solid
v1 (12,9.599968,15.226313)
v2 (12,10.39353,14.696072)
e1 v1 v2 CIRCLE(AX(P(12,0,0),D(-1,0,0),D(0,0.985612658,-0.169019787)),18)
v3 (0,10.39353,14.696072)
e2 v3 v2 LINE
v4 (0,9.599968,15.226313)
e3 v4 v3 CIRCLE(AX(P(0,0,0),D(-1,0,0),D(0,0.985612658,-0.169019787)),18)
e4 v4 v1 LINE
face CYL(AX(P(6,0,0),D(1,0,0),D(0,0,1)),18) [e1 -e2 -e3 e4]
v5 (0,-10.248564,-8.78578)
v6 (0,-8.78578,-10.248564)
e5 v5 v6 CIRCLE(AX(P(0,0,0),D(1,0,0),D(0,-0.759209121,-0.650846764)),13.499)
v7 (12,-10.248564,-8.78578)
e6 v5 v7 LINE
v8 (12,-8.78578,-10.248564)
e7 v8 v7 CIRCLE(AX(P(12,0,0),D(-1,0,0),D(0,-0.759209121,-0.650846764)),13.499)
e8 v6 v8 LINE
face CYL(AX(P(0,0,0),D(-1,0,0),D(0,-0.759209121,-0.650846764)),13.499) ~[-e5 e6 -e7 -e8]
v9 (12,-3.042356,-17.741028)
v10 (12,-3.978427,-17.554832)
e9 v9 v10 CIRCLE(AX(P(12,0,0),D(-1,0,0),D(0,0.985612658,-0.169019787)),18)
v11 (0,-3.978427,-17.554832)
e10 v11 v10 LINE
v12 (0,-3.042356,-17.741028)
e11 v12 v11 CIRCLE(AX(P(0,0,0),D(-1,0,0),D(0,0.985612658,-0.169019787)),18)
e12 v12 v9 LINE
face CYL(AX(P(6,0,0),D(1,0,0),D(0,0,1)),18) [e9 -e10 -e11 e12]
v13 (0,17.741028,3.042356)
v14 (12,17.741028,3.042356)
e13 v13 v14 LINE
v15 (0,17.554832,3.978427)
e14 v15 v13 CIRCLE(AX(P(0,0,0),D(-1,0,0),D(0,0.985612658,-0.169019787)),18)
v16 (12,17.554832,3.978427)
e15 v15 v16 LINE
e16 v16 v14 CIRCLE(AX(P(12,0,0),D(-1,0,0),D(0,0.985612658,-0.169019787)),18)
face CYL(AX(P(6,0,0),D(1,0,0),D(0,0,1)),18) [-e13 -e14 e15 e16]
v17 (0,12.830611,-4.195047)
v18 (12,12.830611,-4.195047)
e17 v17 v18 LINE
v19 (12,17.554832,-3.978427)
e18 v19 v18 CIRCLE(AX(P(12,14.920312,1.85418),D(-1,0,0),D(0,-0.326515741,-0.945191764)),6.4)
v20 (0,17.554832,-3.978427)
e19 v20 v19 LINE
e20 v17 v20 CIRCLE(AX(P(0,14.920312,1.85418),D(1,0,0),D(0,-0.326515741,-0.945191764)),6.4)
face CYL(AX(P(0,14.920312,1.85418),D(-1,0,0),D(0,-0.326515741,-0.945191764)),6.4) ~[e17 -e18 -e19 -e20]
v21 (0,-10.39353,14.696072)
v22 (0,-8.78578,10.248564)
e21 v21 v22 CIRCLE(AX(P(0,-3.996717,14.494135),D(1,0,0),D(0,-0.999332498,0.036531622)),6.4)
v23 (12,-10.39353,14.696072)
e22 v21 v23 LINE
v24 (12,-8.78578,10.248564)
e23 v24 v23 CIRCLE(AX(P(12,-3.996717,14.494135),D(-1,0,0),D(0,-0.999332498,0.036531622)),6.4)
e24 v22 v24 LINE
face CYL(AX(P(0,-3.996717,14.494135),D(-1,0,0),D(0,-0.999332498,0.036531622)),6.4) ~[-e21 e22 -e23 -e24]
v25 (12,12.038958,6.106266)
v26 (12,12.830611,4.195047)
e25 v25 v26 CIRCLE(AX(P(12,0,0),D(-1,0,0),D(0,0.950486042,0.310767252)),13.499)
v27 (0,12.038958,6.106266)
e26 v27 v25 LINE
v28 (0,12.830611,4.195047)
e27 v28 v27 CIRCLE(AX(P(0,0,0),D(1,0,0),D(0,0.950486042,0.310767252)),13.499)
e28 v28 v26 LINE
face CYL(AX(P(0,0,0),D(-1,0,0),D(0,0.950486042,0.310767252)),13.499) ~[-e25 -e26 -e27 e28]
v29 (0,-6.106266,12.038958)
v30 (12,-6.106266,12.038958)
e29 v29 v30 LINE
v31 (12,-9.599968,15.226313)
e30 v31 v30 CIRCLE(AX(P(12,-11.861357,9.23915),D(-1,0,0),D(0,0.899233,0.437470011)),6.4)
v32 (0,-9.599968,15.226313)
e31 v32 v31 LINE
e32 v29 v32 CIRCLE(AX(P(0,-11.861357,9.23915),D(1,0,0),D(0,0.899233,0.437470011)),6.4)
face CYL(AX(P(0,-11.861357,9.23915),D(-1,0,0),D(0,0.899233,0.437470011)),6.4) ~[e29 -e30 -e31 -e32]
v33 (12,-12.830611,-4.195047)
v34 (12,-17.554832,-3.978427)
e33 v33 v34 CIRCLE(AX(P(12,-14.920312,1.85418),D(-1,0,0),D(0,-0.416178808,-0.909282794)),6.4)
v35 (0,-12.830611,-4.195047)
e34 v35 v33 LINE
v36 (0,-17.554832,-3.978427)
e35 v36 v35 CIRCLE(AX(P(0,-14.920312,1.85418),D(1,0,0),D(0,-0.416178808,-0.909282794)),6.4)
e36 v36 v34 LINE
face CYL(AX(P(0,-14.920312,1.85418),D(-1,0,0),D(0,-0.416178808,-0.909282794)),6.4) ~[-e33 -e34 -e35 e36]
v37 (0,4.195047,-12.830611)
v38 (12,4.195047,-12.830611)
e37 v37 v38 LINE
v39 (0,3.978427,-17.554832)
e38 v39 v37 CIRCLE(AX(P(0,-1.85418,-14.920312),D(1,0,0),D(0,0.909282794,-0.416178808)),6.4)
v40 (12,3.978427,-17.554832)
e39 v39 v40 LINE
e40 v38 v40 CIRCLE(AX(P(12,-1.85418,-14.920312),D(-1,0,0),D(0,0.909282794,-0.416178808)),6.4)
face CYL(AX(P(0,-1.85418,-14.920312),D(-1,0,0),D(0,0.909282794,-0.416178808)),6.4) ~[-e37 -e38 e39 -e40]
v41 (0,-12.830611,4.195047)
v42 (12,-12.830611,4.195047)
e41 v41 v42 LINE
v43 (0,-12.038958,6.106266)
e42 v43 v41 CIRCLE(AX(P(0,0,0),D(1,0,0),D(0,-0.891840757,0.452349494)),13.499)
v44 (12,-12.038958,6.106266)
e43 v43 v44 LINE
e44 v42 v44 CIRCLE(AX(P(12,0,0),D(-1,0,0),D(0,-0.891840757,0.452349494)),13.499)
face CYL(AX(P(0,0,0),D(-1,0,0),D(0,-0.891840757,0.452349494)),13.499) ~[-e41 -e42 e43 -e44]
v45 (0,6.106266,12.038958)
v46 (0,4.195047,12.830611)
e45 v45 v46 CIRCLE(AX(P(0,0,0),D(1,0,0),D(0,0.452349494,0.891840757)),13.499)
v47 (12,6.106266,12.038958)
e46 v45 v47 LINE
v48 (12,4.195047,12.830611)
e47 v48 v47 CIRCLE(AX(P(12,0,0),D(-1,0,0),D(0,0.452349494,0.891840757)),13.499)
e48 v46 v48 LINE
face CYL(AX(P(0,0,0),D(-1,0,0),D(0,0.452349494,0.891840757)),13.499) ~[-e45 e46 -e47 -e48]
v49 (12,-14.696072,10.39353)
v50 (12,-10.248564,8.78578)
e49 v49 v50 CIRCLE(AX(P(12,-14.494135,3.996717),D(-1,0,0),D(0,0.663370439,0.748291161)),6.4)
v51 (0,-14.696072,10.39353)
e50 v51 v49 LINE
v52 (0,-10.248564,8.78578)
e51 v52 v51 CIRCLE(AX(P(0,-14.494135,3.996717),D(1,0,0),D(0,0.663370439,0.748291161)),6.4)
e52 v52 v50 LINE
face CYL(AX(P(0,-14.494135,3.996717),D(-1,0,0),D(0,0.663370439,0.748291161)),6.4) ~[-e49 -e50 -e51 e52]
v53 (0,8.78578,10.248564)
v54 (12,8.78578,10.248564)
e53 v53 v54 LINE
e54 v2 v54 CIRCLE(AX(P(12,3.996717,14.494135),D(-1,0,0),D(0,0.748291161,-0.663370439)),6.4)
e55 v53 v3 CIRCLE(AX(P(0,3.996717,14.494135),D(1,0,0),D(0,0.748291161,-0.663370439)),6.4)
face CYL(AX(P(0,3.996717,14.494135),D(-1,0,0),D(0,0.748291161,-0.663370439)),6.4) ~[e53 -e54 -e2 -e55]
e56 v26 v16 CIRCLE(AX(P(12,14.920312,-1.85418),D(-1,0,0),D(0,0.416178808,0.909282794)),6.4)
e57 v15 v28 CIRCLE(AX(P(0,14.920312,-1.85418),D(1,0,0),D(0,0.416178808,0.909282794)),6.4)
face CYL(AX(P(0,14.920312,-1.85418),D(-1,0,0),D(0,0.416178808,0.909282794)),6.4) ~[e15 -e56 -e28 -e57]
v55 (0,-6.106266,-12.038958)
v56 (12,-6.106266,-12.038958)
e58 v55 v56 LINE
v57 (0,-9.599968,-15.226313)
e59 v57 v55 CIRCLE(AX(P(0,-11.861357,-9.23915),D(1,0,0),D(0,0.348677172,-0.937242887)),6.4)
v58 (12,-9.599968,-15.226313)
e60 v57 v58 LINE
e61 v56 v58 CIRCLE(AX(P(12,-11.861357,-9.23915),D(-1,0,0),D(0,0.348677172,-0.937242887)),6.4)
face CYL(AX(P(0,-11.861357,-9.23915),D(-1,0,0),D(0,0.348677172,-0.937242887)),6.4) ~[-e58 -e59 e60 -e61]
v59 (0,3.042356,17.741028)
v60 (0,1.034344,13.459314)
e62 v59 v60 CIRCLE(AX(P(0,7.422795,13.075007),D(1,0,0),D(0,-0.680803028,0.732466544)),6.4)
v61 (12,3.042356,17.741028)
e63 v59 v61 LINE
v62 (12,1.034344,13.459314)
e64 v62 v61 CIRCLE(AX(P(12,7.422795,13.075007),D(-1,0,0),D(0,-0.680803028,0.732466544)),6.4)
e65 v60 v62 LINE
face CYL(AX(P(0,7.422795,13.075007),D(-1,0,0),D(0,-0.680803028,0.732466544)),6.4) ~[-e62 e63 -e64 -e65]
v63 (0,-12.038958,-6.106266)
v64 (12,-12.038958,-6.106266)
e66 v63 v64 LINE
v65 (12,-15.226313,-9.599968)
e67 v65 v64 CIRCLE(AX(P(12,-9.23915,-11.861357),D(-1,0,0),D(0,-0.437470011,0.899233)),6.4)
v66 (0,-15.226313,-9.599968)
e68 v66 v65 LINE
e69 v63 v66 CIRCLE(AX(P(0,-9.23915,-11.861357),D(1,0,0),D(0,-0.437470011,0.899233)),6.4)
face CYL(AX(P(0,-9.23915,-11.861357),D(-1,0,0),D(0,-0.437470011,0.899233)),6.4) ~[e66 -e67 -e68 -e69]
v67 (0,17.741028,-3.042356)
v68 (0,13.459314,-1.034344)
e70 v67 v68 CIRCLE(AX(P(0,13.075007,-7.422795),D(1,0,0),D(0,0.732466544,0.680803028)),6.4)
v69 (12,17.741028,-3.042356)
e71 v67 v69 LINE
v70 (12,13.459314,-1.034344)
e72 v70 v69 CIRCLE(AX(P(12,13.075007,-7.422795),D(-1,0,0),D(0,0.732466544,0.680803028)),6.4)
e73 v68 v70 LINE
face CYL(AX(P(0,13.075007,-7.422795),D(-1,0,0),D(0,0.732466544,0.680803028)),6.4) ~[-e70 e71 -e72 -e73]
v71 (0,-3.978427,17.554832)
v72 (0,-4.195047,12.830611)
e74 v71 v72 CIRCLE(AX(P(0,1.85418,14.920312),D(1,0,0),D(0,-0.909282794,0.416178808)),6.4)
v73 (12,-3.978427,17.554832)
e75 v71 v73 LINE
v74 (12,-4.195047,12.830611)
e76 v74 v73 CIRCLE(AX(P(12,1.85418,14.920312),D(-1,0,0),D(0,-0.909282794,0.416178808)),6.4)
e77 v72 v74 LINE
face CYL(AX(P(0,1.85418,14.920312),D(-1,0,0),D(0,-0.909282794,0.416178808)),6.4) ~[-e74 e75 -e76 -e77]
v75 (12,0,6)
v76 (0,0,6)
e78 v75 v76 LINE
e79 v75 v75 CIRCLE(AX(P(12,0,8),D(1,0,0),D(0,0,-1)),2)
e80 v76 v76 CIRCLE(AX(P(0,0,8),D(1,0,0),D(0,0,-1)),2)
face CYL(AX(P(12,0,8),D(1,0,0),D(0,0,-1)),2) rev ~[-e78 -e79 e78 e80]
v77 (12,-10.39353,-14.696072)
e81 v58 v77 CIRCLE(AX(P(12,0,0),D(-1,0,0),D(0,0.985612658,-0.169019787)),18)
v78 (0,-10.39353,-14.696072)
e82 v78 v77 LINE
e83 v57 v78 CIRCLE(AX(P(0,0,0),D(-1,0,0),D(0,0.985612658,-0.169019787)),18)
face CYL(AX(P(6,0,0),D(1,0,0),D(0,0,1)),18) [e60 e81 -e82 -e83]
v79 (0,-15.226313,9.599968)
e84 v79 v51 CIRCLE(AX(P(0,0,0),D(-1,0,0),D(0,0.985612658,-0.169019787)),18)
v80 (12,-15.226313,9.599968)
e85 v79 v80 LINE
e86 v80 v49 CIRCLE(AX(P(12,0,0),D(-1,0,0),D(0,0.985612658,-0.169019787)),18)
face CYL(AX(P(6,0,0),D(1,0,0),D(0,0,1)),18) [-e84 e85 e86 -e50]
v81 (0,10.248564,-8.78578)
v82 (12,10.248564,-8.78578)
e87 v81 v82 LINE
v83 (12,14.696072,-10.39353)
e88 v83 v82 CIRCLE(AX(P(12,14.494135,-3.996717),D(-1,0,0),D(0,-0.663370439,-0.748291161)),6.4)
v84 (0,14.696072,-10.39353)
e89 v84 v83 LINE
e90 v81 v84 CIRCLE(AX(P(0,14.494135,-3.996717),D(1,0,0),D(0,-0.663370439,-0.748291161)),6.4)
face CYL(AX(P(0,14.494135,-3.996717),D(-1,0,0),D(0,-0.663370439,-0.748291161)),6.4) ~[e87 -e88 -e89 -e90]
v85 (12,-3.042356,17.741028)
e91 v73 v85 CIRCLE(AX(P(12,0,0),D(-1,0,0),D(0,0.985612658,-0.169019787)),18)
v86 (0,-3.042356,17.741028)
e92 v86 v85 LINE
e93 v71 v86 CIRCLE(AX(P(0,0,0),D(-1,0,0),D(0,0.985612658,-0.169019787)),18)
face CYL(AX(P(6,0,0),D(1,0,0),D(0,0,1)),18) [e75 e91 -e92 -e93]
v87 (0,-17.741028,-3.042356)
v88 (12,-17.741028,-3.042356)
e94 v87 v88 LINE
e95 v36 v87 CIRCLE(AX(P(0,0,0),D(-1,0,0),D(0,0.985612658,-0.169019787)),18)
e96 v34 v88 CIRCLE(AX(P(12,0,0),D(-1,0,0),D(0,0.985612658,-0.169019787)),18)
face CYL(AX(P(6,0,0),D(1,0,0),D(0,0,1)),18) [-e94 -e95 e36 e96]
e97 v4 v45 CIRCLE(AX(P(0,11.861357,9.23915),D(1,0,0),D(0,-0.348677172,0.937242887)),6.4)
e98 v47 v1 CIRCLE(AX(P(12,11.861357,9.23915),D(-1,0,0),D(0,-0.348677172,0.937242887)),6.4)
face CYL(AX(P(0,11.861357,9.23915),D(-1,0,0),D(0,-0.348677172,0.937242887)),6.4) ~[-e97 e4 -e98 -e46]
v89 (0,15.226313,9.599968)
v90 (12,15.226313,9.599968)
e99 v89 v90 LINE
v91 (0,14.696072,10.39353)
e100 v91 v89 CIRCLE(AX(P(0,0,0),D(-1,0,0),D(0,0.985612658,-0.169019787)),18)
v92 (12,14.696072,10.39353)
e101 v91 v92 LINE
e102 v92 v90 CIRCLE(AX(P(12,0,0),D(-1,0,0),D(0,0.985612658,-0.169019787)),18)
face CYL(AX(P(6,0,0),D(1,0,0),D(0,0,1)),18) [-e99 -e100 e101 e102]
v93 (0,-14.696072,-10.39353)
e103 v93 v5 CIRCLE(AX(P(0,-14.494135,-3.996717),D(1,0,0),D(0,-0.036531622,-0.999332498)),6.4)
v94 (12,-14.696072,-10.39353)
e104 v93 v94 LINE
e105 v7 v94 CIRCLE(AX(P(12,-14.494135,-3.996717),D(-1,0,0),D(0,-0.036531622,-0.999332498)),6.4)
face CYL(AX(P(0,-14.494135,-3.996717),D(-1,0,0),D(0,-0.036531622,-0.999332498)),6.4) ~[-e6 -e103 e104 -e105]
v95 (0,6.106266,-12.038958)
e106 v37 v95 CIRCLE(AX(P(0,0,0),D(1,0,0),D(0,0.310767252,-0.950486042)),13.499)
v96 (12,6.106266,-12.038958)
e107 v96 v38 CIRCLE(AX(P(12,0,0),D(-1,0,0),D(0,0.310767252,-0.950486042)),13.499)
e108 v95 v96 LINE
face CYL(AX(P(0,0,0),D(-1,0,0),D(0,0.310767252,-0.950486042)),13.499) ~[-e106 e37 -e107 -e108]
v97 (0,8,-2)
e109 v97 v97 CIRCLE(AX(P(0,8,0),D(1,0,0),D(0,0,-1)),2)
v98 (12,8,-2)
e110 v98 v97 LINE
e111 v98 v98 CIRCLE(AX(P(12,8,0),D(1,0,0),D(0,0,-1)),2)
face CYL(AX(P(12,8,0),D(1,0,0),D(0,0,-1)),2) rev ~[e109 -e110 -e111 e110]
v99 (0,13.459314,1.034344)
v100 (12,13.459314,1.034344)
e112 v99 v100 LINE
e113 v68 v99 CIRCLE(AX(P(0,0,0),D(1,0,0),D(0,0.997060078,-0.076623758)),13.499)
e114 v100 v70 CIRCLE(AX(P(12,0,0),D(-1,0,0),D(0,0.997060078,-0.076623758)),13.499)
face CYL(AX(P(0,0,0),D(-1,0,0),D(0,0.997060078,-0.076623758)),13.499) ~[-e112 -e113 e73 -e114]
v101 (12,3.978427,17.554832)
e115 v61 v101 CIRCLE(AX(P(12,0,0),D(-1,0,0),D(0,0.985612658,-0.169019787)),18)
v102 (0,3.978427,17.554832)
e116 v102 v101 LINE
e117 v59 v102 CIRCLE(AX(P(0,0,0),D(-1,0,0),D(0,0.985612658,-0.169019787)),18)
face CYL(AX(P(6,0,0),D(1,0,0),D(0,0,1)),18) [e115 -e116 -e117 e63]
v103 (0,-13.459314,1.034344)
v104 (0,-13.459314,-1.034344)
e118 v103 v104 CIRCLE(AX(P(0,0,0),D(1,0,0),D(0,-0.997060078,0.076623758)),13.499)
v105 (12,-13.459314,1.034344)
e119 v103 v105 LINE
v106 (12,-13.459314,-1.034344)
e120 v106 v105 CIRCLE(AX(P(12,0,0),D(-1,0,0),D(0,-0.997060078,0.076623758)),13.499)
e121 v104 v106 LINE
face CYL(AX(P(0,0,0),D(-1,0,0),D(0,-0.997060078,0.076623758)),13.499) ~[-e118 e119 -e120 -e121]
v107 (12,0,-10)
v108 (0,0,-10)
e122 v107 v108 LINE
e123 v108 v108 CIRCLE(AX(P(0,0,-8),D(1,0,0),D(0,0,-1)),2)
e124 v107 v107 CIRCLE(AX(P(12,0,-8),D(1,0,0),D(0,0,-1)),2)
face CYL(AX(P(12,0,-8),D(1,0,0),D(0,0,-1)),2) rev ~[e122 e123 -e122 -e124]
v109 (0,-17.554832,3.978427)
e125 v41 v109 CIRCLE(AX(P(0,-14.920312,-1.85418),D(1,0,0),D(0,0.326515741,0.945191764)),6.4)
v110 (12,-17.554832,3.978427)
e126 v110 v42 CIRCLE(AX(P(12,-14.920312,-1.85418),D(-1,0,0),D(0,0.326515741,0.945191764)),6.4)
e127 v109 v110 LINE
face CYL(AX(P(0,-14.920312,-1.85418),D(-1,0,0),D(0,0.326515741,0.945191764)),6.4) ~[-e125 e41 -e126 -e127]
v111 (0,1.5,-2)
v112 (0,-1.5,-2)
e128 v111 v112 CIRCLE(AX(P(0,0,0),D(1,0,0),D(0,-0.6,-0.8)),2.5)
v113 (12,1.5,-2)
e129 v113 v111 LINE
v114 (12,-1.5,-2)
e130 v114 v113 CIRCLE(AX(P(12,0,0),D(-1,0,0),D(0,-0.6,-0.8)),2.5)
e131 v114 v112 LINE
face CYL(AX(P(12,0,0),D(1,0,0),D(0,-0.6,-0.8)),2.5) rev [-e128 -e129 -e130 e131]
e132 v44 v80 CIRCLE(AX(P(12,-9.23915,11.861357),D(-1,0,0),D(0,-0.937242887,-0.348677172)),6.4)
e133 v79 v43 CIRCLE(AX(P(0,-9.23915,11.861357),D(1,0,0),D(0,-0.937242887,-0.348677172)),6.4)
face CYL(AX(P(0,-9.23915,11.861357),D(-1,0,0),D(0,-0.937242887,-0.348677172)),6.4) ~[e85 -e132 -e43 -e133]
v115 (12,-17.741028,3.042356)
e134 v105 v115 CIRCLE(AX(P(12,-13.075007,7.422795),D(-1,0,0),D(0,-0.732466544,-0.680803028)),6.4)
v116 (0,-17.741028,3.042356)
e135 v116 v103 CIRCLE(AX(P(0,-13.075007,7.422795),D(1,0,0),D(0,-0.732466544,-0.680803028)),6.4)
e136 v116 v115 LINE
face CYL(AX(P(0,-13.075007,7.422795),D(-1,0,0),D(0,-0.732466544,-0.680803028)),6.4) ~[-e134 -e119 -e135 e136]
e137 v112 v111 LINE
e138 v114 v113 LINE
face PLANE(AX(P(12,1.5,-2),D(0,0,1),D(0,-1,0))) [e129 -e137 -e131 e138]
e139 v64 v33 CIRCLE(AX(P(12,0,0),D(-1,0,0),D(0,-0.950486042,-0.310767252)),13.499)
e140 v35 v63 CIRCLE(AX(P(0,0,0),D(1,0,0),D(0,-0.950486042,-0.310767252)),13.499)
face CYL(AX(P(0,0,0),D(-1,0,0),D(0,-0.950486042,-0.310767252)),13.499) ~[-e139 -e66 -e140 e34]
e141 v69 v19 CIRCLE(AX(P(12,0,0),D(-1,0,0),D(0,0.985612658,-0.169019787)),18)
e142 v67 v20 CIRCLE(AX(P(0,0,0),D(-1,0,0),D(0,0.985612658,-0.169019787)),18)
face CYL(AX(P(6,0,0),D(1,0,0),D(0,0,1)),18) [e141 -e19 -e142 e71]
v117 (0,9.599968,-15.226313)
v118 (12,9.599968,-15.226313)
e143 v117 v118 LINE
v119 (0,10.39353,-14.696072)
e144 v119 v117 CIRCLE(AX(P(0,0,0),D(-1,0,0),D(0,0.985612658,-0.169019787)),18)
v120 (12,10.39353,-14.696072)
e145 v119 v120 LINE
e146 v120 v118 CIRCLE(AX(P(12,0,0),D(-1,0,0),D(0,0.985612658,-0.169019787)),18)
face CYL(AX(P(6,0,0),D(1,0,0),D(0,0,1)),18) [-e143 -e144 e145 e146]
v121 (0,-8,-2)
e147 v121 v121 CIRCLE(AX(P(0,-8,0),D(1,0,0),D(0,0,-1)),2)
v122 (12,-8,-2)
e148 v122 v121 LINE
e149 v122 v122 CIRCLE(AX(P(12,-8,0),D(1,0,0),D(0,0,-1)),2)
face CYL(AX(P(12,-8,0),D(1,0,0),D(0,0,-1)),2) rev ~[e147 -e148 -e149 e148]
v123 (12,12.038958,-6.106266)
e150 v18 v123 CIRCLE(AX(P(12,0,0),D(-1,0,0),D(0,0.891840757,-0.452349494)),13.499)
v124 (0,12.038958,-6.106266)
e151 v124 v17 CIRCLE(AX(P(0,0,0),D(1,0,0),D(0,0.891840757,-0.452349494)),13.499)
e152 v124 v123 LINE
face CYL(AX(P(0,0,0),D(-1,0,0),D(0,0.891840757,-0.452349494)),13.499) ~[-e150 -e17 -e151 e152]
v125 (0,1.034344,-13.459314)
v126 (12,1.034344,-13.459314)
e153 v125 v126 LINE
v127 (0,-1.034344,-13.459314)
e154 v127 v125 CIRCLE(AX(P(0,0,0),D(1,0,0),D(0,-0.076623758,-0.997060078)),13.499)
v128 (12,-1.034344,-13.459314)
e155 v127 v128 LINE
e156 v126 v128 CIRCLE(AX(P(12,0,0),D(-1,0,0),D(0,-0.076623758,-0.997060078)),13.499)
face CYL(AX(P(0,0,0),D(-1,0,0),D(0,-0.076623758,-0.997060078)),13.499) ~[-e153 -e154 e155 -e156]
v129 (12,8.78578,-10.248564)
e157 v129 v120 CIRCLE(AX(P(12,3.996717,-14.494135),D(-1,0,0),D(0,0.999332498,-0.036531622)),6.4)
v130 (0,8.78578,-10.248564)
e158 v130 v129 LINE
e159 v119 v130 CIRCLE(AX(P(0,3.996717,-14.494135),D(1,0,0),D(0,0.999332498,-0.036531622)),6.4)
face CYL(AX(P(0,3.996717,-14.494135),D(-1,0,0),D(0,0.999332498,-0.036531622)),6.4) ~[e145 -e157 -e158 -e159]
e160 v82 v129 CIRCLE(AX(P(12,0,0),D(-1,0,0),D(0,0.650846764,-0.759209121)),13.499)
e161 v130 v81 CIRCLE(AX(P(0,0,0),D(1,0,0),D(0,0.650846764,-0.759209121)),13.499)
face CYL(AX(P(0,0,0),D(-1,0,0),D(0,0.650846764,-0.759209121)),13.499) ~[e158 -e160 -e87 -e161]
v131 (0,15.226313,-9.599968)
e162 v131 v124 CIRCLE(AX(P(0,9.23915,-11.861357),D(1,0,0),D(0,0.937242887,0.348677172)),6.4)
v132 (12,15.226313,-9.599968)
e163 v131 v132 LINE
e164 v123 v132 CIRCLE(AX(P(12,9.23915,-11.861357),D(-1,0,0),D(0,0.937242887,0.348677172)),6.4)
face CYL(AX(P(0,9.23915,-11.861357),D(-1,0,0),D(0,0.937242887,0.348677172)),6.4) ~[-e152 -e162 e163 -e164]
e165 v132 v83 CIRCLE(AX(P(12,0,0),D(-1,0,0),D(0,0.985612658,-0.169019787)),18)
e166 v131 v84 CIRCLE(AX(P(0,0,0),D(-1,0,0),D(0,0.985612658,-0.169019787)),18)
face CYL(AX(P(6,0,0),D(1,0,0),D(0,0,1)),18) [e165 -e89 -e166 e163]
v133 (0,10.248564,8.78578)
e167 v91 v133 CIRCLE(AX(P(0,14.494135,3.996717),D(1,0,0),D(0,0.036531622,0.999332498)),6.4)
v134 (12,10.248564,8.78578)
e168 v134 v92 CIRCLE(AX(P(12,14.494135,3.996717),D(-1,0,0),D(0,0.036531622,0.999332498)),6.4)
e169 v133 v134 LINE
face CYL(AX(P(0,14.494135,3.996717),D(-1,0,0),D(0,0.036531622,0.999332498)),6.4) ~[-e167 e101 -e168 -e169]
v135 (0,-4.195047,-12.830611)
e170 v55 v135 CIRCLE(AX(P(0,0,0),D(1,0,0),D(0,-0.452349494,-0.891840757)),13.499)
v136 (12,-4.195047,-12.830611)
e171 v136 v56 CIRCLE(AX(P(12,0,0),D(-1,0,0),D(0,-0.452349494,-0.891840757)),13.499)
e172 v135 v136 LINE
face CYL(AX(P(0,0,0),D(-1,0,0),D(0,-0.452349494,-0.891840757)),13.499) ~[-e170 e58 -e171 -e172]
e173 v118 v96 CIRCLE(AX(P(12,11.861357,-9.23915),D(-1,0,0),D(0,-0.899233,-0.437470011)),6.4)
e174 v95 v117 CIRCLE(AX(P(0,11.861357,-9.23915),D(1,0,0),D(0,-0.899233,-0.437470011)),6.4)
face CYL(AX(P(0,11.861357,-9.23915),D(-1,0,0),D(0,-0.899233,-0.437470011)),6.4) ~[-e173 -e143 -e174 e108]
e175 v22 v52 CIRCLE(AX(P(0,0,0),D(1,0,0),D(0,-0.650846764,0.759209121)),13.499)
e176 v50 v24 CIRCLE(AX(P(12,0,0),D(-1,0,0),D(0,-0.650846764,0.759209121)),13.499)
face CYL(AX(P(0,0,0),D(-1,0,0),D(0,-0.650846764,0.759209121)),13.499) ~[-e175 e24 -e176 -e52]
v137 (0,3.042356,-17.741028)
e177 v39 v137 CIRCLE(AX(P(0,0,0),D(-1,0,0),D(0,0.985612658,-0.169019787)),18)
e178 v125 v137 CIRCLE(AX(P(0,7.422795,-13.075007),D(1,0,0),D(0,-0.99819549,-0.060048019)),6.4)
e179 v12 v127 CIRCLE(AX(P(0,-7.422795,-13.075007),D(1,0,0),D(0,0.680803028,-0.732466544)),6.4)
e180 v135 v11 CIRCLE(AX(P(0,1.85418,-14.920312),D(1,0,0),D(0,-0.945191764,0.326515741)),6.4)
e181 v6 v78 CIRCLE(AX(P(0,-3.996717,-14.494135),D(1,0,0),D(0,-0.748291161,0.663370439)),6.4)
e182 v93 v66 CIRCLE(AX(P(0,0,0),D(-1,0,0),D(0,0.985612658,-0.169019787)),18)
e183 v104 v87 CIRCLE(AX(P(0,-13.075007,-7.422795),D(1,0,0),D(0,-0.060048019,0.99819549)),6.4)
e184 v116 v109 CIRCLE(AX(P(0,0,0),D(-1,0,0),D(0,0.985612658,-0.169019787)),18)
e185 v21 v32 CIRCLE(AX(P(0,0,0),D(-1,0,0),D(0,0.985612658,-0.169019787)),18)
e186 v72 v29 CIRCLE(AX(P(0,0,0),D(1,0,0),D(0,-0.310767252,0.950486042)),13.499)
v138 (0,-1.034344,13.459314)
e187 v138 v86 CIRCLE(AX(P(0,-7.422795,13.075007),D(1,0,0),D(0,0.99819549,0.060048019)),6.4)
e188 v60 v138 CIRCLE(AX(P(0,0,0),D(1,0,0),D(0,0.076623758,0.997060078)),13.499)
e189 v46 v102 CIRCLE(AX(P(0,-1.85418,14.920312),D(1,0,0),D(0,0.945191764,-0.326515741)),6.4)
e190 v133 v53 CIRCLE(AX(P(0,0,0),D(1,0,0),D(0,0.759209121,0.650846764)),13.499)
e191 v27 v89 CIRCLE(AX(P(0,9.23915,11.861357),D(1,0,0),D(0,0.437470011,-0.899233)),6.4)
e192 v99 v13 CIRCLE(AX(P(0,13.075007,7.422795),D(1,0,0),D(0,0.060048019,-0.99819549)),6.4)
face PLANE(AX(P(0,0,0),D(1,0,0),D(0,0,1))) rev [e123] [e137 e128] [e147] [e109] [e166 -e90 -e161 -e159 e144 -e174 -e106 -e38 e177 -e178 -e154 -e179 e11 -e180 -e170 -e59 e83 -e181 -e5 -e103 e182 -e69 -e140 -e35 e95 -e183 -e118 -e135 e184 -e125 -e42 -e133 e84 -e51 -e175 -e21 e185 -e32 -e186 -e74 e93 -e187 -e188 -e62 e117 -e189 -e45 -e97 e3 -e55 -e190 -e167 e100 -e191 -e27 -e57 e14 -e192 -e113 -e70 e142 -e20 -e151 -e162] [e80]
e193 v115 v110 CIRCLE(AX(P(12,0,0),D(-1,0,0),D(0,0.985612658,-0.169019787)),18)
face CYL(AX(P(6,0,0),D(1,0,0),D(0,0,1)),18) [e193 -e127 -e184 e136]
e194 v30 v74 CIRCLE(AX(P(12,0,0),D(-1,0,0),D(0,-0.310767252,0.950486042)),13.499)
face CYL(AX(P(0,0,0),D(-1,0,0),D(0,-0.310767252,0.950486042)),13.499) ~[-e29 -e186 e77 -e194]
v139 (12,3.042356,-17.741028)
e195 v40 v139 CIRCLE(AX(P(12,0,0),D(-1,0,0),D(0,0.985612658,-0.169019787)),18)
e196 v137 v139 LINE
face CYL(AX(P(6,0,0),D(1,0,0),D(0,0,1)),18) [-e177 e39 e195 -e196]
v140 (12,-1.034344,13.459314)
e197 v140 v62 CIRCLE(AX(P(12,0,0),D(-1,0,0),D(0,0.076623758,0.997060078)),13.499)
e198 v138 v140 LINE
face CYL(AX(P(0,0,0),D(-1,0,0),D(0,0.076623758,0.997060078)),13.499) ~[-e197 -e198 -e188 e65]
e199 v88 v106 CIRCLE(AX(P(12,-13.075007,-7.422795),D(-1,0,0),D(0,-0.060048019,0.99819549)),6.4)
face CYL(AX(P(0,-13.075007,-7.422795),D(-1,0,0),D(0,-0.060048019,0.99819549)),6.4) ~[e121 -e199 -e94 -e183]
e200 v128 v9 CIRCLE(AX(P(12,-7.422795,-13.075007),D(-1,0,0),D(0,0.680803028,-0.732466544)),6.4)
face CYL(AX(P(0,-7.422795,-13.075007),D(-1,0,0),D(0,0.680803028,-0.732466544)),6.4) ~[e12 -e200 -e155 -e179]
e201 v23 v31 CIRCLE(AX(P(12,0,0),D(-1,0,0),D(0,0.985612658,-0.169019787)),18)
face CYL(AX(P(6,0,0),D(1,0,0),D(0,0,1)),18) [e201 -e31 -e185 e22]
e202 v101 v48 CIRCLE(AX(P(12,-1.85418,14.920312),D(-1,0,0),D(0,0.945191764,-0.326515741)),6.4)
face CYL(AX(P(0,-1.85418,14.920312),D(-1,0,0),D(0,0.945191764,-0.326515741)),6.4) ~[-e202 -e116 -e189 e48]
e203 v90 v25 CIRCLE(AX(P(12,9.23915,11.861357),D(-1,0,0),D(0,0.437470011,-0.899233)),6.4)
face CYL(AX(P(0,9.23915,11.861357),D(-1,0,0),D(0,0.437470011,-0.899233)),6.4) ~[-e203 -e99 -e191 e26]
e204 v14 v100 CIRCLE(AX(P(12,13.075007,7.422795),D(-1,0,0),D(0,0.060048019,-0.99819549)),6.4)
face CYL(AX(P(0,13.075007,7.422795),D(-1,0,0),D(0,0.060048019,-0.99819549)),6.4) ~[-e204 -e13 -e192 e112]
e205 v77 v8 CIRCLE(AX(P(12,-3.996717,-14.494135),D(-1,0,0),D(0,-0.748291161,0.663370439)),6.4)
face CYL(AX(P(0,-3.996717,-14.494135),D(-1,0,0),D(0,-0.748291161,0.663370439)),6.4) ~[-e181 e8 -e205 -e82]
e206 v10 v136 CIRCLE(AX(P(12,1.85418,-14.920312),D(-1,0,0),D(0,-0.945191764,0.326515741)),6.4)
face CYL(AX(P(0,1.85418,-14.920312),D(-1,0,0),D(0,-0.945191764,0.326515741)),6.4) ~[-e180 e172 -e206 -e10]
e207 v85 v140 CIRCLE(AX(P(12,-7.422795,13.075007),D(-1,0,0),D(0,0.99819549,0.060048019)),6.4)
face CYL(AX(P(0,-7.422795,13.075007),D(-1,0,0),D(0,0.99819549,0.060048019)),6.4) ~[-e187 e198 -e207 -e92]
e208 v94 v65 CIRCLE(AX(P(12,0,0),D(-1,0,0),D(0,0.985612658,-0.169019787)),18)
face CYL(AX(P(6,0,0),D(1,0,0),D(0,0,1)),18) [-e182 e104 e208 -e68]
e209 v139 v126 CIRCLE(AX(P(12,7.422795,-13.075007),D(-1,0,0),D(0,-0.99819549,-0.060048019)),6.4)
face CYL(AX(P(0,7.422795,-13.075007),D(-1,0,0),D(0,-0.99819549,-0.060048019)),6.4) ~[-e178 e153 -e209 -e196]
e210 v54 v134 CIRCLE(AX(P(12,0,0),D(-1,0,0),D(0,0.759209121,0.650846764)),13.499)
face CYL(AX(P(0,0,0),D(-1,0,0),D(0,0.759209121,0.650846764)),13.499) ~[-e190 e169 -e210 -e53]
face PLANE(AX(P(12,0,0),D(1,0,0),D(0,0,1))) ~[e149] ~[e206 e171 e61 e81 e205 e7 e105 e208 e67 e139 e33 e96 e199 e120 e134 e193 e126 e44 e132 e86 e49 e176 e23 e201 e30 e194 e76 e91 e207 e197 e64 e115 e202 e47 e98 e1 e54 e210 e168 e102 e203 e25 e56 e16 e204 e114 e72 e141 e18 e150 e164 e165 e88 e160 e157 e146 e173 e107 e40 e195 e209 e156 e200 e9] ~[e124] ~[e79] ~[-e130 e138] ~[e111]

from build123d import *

# Parameters (mm, degrees)
BASPROSKE_W        = 12
BASPROSKE_H        = 18
TOOTHCUT_DEPTH     = 29.142494559
TEETHCUTS_COUNT    = 16
TEETHCUTS_ANGLE    = 337.5
BORSKE_R           = 2
BORE_DEPTH         = 50.0000508
SKETCH1_R          = 2
CUT_EXTRUDE1_DEPTH = 18


with BuildPart() as part:
    # BasProSke → Base-Revolve (revolve)
    with BuildSketch(Plane(origin=(0, 0, 0), x_dir=(1, 0, 0), z_dir=(0, 1, 0)), mode=Mode.PRIVATE) as base_revolve_sk:
        with Locations((6, 9)):
            Rectangle(BASPROSKE_W, BASPROSKE_H)
    revolve(base_revolve_sk.sketch.rotate(Axis((-10, 0, 0), (1, 0, 0)), 180), axis=Axis((-10, 0, 0), (1, 0, 0)))

    # TooCutSke → ToothCut (cut, through all)
    with BuildSketch(Plane(origin=(0, 0, 0), x_dir=(0, 0, -1), z_dir=(1, 0, 0))):
        with BuildLine():
            ThreePointArc((1.03434411, 13.459313997), (0, 13.499), (-1.03434411, 13.459313997))
            ThreePointArc((-1.03434411, 13.459313997), (-1.635143665, 15.806872195), (-3.065655864, 17.762792553))
            ThreePointArc((-3.065655864, 17.762792553), (0, 18.0254), (3.065655864, 17.762792553))
            ThreePointArc((3.065655864, 17.762792553), (1.635143665, 15.806872195), (1.03434411, 13.459313997))
        make_face()
    toothcut = extrude(amount=TOOTHCUT_DEPTH, mode=Mode.SUBTRACT)

    # TeethCuts: ToothCut ×16 about axis
    teethcuts_axis = Axis((-10, 0, 0), (1, 0, 0))
    for i in range(1, TEETHCUTS_COUNT):
        add(toothcut.rotate(teethcuts_axis, i * TEETHCUTS_ANGLE / (TEETHCUTS_COUNT - 1)), mode=Mode.SUBTRACT)

    # BorSke → Bore (cut, symmetric)
    with BuildSketch(Plane(origin=(0, 0, 0), x_dir=(0, 0, -1), z_dir=(1, 0, 0))):
        with Locations(Location((0, 0, 0), (0, 0, 180))):
            Circle(BORSKE_R)
    extrude(amount=BORE_DEPTH, both=True, mode=Mode.SUBTRACT)

    # Sketch1 → Cut-Extrude1 (cut)
    with BuildSketch(Plane(origin=(12, 0, 0), x_dir=(0, 0, -1), z_dir=(1, 0, 0))):
        with Locations((0, 8)):
            Circle(SKETCH1_R)
        with Locations((0, -8)):
            Circle(SKETCH1_R)
        with Locations((8, 0)):
            Circle(SKETCH1_R)
        with Locations((-8, 0)):
            Circle(SKETCH1_R)
        with BuildLine():
            Line((2, 1.5), (2, -1.5))
            ThreePointArc((2, -1.5), (-2.5, 0), (2, 1.5))
        make_face()
    extrude(amount=-CUT_EXTRUDE1_DEPTH, mode=Mode.SUBTRACT)


solid = part.part
